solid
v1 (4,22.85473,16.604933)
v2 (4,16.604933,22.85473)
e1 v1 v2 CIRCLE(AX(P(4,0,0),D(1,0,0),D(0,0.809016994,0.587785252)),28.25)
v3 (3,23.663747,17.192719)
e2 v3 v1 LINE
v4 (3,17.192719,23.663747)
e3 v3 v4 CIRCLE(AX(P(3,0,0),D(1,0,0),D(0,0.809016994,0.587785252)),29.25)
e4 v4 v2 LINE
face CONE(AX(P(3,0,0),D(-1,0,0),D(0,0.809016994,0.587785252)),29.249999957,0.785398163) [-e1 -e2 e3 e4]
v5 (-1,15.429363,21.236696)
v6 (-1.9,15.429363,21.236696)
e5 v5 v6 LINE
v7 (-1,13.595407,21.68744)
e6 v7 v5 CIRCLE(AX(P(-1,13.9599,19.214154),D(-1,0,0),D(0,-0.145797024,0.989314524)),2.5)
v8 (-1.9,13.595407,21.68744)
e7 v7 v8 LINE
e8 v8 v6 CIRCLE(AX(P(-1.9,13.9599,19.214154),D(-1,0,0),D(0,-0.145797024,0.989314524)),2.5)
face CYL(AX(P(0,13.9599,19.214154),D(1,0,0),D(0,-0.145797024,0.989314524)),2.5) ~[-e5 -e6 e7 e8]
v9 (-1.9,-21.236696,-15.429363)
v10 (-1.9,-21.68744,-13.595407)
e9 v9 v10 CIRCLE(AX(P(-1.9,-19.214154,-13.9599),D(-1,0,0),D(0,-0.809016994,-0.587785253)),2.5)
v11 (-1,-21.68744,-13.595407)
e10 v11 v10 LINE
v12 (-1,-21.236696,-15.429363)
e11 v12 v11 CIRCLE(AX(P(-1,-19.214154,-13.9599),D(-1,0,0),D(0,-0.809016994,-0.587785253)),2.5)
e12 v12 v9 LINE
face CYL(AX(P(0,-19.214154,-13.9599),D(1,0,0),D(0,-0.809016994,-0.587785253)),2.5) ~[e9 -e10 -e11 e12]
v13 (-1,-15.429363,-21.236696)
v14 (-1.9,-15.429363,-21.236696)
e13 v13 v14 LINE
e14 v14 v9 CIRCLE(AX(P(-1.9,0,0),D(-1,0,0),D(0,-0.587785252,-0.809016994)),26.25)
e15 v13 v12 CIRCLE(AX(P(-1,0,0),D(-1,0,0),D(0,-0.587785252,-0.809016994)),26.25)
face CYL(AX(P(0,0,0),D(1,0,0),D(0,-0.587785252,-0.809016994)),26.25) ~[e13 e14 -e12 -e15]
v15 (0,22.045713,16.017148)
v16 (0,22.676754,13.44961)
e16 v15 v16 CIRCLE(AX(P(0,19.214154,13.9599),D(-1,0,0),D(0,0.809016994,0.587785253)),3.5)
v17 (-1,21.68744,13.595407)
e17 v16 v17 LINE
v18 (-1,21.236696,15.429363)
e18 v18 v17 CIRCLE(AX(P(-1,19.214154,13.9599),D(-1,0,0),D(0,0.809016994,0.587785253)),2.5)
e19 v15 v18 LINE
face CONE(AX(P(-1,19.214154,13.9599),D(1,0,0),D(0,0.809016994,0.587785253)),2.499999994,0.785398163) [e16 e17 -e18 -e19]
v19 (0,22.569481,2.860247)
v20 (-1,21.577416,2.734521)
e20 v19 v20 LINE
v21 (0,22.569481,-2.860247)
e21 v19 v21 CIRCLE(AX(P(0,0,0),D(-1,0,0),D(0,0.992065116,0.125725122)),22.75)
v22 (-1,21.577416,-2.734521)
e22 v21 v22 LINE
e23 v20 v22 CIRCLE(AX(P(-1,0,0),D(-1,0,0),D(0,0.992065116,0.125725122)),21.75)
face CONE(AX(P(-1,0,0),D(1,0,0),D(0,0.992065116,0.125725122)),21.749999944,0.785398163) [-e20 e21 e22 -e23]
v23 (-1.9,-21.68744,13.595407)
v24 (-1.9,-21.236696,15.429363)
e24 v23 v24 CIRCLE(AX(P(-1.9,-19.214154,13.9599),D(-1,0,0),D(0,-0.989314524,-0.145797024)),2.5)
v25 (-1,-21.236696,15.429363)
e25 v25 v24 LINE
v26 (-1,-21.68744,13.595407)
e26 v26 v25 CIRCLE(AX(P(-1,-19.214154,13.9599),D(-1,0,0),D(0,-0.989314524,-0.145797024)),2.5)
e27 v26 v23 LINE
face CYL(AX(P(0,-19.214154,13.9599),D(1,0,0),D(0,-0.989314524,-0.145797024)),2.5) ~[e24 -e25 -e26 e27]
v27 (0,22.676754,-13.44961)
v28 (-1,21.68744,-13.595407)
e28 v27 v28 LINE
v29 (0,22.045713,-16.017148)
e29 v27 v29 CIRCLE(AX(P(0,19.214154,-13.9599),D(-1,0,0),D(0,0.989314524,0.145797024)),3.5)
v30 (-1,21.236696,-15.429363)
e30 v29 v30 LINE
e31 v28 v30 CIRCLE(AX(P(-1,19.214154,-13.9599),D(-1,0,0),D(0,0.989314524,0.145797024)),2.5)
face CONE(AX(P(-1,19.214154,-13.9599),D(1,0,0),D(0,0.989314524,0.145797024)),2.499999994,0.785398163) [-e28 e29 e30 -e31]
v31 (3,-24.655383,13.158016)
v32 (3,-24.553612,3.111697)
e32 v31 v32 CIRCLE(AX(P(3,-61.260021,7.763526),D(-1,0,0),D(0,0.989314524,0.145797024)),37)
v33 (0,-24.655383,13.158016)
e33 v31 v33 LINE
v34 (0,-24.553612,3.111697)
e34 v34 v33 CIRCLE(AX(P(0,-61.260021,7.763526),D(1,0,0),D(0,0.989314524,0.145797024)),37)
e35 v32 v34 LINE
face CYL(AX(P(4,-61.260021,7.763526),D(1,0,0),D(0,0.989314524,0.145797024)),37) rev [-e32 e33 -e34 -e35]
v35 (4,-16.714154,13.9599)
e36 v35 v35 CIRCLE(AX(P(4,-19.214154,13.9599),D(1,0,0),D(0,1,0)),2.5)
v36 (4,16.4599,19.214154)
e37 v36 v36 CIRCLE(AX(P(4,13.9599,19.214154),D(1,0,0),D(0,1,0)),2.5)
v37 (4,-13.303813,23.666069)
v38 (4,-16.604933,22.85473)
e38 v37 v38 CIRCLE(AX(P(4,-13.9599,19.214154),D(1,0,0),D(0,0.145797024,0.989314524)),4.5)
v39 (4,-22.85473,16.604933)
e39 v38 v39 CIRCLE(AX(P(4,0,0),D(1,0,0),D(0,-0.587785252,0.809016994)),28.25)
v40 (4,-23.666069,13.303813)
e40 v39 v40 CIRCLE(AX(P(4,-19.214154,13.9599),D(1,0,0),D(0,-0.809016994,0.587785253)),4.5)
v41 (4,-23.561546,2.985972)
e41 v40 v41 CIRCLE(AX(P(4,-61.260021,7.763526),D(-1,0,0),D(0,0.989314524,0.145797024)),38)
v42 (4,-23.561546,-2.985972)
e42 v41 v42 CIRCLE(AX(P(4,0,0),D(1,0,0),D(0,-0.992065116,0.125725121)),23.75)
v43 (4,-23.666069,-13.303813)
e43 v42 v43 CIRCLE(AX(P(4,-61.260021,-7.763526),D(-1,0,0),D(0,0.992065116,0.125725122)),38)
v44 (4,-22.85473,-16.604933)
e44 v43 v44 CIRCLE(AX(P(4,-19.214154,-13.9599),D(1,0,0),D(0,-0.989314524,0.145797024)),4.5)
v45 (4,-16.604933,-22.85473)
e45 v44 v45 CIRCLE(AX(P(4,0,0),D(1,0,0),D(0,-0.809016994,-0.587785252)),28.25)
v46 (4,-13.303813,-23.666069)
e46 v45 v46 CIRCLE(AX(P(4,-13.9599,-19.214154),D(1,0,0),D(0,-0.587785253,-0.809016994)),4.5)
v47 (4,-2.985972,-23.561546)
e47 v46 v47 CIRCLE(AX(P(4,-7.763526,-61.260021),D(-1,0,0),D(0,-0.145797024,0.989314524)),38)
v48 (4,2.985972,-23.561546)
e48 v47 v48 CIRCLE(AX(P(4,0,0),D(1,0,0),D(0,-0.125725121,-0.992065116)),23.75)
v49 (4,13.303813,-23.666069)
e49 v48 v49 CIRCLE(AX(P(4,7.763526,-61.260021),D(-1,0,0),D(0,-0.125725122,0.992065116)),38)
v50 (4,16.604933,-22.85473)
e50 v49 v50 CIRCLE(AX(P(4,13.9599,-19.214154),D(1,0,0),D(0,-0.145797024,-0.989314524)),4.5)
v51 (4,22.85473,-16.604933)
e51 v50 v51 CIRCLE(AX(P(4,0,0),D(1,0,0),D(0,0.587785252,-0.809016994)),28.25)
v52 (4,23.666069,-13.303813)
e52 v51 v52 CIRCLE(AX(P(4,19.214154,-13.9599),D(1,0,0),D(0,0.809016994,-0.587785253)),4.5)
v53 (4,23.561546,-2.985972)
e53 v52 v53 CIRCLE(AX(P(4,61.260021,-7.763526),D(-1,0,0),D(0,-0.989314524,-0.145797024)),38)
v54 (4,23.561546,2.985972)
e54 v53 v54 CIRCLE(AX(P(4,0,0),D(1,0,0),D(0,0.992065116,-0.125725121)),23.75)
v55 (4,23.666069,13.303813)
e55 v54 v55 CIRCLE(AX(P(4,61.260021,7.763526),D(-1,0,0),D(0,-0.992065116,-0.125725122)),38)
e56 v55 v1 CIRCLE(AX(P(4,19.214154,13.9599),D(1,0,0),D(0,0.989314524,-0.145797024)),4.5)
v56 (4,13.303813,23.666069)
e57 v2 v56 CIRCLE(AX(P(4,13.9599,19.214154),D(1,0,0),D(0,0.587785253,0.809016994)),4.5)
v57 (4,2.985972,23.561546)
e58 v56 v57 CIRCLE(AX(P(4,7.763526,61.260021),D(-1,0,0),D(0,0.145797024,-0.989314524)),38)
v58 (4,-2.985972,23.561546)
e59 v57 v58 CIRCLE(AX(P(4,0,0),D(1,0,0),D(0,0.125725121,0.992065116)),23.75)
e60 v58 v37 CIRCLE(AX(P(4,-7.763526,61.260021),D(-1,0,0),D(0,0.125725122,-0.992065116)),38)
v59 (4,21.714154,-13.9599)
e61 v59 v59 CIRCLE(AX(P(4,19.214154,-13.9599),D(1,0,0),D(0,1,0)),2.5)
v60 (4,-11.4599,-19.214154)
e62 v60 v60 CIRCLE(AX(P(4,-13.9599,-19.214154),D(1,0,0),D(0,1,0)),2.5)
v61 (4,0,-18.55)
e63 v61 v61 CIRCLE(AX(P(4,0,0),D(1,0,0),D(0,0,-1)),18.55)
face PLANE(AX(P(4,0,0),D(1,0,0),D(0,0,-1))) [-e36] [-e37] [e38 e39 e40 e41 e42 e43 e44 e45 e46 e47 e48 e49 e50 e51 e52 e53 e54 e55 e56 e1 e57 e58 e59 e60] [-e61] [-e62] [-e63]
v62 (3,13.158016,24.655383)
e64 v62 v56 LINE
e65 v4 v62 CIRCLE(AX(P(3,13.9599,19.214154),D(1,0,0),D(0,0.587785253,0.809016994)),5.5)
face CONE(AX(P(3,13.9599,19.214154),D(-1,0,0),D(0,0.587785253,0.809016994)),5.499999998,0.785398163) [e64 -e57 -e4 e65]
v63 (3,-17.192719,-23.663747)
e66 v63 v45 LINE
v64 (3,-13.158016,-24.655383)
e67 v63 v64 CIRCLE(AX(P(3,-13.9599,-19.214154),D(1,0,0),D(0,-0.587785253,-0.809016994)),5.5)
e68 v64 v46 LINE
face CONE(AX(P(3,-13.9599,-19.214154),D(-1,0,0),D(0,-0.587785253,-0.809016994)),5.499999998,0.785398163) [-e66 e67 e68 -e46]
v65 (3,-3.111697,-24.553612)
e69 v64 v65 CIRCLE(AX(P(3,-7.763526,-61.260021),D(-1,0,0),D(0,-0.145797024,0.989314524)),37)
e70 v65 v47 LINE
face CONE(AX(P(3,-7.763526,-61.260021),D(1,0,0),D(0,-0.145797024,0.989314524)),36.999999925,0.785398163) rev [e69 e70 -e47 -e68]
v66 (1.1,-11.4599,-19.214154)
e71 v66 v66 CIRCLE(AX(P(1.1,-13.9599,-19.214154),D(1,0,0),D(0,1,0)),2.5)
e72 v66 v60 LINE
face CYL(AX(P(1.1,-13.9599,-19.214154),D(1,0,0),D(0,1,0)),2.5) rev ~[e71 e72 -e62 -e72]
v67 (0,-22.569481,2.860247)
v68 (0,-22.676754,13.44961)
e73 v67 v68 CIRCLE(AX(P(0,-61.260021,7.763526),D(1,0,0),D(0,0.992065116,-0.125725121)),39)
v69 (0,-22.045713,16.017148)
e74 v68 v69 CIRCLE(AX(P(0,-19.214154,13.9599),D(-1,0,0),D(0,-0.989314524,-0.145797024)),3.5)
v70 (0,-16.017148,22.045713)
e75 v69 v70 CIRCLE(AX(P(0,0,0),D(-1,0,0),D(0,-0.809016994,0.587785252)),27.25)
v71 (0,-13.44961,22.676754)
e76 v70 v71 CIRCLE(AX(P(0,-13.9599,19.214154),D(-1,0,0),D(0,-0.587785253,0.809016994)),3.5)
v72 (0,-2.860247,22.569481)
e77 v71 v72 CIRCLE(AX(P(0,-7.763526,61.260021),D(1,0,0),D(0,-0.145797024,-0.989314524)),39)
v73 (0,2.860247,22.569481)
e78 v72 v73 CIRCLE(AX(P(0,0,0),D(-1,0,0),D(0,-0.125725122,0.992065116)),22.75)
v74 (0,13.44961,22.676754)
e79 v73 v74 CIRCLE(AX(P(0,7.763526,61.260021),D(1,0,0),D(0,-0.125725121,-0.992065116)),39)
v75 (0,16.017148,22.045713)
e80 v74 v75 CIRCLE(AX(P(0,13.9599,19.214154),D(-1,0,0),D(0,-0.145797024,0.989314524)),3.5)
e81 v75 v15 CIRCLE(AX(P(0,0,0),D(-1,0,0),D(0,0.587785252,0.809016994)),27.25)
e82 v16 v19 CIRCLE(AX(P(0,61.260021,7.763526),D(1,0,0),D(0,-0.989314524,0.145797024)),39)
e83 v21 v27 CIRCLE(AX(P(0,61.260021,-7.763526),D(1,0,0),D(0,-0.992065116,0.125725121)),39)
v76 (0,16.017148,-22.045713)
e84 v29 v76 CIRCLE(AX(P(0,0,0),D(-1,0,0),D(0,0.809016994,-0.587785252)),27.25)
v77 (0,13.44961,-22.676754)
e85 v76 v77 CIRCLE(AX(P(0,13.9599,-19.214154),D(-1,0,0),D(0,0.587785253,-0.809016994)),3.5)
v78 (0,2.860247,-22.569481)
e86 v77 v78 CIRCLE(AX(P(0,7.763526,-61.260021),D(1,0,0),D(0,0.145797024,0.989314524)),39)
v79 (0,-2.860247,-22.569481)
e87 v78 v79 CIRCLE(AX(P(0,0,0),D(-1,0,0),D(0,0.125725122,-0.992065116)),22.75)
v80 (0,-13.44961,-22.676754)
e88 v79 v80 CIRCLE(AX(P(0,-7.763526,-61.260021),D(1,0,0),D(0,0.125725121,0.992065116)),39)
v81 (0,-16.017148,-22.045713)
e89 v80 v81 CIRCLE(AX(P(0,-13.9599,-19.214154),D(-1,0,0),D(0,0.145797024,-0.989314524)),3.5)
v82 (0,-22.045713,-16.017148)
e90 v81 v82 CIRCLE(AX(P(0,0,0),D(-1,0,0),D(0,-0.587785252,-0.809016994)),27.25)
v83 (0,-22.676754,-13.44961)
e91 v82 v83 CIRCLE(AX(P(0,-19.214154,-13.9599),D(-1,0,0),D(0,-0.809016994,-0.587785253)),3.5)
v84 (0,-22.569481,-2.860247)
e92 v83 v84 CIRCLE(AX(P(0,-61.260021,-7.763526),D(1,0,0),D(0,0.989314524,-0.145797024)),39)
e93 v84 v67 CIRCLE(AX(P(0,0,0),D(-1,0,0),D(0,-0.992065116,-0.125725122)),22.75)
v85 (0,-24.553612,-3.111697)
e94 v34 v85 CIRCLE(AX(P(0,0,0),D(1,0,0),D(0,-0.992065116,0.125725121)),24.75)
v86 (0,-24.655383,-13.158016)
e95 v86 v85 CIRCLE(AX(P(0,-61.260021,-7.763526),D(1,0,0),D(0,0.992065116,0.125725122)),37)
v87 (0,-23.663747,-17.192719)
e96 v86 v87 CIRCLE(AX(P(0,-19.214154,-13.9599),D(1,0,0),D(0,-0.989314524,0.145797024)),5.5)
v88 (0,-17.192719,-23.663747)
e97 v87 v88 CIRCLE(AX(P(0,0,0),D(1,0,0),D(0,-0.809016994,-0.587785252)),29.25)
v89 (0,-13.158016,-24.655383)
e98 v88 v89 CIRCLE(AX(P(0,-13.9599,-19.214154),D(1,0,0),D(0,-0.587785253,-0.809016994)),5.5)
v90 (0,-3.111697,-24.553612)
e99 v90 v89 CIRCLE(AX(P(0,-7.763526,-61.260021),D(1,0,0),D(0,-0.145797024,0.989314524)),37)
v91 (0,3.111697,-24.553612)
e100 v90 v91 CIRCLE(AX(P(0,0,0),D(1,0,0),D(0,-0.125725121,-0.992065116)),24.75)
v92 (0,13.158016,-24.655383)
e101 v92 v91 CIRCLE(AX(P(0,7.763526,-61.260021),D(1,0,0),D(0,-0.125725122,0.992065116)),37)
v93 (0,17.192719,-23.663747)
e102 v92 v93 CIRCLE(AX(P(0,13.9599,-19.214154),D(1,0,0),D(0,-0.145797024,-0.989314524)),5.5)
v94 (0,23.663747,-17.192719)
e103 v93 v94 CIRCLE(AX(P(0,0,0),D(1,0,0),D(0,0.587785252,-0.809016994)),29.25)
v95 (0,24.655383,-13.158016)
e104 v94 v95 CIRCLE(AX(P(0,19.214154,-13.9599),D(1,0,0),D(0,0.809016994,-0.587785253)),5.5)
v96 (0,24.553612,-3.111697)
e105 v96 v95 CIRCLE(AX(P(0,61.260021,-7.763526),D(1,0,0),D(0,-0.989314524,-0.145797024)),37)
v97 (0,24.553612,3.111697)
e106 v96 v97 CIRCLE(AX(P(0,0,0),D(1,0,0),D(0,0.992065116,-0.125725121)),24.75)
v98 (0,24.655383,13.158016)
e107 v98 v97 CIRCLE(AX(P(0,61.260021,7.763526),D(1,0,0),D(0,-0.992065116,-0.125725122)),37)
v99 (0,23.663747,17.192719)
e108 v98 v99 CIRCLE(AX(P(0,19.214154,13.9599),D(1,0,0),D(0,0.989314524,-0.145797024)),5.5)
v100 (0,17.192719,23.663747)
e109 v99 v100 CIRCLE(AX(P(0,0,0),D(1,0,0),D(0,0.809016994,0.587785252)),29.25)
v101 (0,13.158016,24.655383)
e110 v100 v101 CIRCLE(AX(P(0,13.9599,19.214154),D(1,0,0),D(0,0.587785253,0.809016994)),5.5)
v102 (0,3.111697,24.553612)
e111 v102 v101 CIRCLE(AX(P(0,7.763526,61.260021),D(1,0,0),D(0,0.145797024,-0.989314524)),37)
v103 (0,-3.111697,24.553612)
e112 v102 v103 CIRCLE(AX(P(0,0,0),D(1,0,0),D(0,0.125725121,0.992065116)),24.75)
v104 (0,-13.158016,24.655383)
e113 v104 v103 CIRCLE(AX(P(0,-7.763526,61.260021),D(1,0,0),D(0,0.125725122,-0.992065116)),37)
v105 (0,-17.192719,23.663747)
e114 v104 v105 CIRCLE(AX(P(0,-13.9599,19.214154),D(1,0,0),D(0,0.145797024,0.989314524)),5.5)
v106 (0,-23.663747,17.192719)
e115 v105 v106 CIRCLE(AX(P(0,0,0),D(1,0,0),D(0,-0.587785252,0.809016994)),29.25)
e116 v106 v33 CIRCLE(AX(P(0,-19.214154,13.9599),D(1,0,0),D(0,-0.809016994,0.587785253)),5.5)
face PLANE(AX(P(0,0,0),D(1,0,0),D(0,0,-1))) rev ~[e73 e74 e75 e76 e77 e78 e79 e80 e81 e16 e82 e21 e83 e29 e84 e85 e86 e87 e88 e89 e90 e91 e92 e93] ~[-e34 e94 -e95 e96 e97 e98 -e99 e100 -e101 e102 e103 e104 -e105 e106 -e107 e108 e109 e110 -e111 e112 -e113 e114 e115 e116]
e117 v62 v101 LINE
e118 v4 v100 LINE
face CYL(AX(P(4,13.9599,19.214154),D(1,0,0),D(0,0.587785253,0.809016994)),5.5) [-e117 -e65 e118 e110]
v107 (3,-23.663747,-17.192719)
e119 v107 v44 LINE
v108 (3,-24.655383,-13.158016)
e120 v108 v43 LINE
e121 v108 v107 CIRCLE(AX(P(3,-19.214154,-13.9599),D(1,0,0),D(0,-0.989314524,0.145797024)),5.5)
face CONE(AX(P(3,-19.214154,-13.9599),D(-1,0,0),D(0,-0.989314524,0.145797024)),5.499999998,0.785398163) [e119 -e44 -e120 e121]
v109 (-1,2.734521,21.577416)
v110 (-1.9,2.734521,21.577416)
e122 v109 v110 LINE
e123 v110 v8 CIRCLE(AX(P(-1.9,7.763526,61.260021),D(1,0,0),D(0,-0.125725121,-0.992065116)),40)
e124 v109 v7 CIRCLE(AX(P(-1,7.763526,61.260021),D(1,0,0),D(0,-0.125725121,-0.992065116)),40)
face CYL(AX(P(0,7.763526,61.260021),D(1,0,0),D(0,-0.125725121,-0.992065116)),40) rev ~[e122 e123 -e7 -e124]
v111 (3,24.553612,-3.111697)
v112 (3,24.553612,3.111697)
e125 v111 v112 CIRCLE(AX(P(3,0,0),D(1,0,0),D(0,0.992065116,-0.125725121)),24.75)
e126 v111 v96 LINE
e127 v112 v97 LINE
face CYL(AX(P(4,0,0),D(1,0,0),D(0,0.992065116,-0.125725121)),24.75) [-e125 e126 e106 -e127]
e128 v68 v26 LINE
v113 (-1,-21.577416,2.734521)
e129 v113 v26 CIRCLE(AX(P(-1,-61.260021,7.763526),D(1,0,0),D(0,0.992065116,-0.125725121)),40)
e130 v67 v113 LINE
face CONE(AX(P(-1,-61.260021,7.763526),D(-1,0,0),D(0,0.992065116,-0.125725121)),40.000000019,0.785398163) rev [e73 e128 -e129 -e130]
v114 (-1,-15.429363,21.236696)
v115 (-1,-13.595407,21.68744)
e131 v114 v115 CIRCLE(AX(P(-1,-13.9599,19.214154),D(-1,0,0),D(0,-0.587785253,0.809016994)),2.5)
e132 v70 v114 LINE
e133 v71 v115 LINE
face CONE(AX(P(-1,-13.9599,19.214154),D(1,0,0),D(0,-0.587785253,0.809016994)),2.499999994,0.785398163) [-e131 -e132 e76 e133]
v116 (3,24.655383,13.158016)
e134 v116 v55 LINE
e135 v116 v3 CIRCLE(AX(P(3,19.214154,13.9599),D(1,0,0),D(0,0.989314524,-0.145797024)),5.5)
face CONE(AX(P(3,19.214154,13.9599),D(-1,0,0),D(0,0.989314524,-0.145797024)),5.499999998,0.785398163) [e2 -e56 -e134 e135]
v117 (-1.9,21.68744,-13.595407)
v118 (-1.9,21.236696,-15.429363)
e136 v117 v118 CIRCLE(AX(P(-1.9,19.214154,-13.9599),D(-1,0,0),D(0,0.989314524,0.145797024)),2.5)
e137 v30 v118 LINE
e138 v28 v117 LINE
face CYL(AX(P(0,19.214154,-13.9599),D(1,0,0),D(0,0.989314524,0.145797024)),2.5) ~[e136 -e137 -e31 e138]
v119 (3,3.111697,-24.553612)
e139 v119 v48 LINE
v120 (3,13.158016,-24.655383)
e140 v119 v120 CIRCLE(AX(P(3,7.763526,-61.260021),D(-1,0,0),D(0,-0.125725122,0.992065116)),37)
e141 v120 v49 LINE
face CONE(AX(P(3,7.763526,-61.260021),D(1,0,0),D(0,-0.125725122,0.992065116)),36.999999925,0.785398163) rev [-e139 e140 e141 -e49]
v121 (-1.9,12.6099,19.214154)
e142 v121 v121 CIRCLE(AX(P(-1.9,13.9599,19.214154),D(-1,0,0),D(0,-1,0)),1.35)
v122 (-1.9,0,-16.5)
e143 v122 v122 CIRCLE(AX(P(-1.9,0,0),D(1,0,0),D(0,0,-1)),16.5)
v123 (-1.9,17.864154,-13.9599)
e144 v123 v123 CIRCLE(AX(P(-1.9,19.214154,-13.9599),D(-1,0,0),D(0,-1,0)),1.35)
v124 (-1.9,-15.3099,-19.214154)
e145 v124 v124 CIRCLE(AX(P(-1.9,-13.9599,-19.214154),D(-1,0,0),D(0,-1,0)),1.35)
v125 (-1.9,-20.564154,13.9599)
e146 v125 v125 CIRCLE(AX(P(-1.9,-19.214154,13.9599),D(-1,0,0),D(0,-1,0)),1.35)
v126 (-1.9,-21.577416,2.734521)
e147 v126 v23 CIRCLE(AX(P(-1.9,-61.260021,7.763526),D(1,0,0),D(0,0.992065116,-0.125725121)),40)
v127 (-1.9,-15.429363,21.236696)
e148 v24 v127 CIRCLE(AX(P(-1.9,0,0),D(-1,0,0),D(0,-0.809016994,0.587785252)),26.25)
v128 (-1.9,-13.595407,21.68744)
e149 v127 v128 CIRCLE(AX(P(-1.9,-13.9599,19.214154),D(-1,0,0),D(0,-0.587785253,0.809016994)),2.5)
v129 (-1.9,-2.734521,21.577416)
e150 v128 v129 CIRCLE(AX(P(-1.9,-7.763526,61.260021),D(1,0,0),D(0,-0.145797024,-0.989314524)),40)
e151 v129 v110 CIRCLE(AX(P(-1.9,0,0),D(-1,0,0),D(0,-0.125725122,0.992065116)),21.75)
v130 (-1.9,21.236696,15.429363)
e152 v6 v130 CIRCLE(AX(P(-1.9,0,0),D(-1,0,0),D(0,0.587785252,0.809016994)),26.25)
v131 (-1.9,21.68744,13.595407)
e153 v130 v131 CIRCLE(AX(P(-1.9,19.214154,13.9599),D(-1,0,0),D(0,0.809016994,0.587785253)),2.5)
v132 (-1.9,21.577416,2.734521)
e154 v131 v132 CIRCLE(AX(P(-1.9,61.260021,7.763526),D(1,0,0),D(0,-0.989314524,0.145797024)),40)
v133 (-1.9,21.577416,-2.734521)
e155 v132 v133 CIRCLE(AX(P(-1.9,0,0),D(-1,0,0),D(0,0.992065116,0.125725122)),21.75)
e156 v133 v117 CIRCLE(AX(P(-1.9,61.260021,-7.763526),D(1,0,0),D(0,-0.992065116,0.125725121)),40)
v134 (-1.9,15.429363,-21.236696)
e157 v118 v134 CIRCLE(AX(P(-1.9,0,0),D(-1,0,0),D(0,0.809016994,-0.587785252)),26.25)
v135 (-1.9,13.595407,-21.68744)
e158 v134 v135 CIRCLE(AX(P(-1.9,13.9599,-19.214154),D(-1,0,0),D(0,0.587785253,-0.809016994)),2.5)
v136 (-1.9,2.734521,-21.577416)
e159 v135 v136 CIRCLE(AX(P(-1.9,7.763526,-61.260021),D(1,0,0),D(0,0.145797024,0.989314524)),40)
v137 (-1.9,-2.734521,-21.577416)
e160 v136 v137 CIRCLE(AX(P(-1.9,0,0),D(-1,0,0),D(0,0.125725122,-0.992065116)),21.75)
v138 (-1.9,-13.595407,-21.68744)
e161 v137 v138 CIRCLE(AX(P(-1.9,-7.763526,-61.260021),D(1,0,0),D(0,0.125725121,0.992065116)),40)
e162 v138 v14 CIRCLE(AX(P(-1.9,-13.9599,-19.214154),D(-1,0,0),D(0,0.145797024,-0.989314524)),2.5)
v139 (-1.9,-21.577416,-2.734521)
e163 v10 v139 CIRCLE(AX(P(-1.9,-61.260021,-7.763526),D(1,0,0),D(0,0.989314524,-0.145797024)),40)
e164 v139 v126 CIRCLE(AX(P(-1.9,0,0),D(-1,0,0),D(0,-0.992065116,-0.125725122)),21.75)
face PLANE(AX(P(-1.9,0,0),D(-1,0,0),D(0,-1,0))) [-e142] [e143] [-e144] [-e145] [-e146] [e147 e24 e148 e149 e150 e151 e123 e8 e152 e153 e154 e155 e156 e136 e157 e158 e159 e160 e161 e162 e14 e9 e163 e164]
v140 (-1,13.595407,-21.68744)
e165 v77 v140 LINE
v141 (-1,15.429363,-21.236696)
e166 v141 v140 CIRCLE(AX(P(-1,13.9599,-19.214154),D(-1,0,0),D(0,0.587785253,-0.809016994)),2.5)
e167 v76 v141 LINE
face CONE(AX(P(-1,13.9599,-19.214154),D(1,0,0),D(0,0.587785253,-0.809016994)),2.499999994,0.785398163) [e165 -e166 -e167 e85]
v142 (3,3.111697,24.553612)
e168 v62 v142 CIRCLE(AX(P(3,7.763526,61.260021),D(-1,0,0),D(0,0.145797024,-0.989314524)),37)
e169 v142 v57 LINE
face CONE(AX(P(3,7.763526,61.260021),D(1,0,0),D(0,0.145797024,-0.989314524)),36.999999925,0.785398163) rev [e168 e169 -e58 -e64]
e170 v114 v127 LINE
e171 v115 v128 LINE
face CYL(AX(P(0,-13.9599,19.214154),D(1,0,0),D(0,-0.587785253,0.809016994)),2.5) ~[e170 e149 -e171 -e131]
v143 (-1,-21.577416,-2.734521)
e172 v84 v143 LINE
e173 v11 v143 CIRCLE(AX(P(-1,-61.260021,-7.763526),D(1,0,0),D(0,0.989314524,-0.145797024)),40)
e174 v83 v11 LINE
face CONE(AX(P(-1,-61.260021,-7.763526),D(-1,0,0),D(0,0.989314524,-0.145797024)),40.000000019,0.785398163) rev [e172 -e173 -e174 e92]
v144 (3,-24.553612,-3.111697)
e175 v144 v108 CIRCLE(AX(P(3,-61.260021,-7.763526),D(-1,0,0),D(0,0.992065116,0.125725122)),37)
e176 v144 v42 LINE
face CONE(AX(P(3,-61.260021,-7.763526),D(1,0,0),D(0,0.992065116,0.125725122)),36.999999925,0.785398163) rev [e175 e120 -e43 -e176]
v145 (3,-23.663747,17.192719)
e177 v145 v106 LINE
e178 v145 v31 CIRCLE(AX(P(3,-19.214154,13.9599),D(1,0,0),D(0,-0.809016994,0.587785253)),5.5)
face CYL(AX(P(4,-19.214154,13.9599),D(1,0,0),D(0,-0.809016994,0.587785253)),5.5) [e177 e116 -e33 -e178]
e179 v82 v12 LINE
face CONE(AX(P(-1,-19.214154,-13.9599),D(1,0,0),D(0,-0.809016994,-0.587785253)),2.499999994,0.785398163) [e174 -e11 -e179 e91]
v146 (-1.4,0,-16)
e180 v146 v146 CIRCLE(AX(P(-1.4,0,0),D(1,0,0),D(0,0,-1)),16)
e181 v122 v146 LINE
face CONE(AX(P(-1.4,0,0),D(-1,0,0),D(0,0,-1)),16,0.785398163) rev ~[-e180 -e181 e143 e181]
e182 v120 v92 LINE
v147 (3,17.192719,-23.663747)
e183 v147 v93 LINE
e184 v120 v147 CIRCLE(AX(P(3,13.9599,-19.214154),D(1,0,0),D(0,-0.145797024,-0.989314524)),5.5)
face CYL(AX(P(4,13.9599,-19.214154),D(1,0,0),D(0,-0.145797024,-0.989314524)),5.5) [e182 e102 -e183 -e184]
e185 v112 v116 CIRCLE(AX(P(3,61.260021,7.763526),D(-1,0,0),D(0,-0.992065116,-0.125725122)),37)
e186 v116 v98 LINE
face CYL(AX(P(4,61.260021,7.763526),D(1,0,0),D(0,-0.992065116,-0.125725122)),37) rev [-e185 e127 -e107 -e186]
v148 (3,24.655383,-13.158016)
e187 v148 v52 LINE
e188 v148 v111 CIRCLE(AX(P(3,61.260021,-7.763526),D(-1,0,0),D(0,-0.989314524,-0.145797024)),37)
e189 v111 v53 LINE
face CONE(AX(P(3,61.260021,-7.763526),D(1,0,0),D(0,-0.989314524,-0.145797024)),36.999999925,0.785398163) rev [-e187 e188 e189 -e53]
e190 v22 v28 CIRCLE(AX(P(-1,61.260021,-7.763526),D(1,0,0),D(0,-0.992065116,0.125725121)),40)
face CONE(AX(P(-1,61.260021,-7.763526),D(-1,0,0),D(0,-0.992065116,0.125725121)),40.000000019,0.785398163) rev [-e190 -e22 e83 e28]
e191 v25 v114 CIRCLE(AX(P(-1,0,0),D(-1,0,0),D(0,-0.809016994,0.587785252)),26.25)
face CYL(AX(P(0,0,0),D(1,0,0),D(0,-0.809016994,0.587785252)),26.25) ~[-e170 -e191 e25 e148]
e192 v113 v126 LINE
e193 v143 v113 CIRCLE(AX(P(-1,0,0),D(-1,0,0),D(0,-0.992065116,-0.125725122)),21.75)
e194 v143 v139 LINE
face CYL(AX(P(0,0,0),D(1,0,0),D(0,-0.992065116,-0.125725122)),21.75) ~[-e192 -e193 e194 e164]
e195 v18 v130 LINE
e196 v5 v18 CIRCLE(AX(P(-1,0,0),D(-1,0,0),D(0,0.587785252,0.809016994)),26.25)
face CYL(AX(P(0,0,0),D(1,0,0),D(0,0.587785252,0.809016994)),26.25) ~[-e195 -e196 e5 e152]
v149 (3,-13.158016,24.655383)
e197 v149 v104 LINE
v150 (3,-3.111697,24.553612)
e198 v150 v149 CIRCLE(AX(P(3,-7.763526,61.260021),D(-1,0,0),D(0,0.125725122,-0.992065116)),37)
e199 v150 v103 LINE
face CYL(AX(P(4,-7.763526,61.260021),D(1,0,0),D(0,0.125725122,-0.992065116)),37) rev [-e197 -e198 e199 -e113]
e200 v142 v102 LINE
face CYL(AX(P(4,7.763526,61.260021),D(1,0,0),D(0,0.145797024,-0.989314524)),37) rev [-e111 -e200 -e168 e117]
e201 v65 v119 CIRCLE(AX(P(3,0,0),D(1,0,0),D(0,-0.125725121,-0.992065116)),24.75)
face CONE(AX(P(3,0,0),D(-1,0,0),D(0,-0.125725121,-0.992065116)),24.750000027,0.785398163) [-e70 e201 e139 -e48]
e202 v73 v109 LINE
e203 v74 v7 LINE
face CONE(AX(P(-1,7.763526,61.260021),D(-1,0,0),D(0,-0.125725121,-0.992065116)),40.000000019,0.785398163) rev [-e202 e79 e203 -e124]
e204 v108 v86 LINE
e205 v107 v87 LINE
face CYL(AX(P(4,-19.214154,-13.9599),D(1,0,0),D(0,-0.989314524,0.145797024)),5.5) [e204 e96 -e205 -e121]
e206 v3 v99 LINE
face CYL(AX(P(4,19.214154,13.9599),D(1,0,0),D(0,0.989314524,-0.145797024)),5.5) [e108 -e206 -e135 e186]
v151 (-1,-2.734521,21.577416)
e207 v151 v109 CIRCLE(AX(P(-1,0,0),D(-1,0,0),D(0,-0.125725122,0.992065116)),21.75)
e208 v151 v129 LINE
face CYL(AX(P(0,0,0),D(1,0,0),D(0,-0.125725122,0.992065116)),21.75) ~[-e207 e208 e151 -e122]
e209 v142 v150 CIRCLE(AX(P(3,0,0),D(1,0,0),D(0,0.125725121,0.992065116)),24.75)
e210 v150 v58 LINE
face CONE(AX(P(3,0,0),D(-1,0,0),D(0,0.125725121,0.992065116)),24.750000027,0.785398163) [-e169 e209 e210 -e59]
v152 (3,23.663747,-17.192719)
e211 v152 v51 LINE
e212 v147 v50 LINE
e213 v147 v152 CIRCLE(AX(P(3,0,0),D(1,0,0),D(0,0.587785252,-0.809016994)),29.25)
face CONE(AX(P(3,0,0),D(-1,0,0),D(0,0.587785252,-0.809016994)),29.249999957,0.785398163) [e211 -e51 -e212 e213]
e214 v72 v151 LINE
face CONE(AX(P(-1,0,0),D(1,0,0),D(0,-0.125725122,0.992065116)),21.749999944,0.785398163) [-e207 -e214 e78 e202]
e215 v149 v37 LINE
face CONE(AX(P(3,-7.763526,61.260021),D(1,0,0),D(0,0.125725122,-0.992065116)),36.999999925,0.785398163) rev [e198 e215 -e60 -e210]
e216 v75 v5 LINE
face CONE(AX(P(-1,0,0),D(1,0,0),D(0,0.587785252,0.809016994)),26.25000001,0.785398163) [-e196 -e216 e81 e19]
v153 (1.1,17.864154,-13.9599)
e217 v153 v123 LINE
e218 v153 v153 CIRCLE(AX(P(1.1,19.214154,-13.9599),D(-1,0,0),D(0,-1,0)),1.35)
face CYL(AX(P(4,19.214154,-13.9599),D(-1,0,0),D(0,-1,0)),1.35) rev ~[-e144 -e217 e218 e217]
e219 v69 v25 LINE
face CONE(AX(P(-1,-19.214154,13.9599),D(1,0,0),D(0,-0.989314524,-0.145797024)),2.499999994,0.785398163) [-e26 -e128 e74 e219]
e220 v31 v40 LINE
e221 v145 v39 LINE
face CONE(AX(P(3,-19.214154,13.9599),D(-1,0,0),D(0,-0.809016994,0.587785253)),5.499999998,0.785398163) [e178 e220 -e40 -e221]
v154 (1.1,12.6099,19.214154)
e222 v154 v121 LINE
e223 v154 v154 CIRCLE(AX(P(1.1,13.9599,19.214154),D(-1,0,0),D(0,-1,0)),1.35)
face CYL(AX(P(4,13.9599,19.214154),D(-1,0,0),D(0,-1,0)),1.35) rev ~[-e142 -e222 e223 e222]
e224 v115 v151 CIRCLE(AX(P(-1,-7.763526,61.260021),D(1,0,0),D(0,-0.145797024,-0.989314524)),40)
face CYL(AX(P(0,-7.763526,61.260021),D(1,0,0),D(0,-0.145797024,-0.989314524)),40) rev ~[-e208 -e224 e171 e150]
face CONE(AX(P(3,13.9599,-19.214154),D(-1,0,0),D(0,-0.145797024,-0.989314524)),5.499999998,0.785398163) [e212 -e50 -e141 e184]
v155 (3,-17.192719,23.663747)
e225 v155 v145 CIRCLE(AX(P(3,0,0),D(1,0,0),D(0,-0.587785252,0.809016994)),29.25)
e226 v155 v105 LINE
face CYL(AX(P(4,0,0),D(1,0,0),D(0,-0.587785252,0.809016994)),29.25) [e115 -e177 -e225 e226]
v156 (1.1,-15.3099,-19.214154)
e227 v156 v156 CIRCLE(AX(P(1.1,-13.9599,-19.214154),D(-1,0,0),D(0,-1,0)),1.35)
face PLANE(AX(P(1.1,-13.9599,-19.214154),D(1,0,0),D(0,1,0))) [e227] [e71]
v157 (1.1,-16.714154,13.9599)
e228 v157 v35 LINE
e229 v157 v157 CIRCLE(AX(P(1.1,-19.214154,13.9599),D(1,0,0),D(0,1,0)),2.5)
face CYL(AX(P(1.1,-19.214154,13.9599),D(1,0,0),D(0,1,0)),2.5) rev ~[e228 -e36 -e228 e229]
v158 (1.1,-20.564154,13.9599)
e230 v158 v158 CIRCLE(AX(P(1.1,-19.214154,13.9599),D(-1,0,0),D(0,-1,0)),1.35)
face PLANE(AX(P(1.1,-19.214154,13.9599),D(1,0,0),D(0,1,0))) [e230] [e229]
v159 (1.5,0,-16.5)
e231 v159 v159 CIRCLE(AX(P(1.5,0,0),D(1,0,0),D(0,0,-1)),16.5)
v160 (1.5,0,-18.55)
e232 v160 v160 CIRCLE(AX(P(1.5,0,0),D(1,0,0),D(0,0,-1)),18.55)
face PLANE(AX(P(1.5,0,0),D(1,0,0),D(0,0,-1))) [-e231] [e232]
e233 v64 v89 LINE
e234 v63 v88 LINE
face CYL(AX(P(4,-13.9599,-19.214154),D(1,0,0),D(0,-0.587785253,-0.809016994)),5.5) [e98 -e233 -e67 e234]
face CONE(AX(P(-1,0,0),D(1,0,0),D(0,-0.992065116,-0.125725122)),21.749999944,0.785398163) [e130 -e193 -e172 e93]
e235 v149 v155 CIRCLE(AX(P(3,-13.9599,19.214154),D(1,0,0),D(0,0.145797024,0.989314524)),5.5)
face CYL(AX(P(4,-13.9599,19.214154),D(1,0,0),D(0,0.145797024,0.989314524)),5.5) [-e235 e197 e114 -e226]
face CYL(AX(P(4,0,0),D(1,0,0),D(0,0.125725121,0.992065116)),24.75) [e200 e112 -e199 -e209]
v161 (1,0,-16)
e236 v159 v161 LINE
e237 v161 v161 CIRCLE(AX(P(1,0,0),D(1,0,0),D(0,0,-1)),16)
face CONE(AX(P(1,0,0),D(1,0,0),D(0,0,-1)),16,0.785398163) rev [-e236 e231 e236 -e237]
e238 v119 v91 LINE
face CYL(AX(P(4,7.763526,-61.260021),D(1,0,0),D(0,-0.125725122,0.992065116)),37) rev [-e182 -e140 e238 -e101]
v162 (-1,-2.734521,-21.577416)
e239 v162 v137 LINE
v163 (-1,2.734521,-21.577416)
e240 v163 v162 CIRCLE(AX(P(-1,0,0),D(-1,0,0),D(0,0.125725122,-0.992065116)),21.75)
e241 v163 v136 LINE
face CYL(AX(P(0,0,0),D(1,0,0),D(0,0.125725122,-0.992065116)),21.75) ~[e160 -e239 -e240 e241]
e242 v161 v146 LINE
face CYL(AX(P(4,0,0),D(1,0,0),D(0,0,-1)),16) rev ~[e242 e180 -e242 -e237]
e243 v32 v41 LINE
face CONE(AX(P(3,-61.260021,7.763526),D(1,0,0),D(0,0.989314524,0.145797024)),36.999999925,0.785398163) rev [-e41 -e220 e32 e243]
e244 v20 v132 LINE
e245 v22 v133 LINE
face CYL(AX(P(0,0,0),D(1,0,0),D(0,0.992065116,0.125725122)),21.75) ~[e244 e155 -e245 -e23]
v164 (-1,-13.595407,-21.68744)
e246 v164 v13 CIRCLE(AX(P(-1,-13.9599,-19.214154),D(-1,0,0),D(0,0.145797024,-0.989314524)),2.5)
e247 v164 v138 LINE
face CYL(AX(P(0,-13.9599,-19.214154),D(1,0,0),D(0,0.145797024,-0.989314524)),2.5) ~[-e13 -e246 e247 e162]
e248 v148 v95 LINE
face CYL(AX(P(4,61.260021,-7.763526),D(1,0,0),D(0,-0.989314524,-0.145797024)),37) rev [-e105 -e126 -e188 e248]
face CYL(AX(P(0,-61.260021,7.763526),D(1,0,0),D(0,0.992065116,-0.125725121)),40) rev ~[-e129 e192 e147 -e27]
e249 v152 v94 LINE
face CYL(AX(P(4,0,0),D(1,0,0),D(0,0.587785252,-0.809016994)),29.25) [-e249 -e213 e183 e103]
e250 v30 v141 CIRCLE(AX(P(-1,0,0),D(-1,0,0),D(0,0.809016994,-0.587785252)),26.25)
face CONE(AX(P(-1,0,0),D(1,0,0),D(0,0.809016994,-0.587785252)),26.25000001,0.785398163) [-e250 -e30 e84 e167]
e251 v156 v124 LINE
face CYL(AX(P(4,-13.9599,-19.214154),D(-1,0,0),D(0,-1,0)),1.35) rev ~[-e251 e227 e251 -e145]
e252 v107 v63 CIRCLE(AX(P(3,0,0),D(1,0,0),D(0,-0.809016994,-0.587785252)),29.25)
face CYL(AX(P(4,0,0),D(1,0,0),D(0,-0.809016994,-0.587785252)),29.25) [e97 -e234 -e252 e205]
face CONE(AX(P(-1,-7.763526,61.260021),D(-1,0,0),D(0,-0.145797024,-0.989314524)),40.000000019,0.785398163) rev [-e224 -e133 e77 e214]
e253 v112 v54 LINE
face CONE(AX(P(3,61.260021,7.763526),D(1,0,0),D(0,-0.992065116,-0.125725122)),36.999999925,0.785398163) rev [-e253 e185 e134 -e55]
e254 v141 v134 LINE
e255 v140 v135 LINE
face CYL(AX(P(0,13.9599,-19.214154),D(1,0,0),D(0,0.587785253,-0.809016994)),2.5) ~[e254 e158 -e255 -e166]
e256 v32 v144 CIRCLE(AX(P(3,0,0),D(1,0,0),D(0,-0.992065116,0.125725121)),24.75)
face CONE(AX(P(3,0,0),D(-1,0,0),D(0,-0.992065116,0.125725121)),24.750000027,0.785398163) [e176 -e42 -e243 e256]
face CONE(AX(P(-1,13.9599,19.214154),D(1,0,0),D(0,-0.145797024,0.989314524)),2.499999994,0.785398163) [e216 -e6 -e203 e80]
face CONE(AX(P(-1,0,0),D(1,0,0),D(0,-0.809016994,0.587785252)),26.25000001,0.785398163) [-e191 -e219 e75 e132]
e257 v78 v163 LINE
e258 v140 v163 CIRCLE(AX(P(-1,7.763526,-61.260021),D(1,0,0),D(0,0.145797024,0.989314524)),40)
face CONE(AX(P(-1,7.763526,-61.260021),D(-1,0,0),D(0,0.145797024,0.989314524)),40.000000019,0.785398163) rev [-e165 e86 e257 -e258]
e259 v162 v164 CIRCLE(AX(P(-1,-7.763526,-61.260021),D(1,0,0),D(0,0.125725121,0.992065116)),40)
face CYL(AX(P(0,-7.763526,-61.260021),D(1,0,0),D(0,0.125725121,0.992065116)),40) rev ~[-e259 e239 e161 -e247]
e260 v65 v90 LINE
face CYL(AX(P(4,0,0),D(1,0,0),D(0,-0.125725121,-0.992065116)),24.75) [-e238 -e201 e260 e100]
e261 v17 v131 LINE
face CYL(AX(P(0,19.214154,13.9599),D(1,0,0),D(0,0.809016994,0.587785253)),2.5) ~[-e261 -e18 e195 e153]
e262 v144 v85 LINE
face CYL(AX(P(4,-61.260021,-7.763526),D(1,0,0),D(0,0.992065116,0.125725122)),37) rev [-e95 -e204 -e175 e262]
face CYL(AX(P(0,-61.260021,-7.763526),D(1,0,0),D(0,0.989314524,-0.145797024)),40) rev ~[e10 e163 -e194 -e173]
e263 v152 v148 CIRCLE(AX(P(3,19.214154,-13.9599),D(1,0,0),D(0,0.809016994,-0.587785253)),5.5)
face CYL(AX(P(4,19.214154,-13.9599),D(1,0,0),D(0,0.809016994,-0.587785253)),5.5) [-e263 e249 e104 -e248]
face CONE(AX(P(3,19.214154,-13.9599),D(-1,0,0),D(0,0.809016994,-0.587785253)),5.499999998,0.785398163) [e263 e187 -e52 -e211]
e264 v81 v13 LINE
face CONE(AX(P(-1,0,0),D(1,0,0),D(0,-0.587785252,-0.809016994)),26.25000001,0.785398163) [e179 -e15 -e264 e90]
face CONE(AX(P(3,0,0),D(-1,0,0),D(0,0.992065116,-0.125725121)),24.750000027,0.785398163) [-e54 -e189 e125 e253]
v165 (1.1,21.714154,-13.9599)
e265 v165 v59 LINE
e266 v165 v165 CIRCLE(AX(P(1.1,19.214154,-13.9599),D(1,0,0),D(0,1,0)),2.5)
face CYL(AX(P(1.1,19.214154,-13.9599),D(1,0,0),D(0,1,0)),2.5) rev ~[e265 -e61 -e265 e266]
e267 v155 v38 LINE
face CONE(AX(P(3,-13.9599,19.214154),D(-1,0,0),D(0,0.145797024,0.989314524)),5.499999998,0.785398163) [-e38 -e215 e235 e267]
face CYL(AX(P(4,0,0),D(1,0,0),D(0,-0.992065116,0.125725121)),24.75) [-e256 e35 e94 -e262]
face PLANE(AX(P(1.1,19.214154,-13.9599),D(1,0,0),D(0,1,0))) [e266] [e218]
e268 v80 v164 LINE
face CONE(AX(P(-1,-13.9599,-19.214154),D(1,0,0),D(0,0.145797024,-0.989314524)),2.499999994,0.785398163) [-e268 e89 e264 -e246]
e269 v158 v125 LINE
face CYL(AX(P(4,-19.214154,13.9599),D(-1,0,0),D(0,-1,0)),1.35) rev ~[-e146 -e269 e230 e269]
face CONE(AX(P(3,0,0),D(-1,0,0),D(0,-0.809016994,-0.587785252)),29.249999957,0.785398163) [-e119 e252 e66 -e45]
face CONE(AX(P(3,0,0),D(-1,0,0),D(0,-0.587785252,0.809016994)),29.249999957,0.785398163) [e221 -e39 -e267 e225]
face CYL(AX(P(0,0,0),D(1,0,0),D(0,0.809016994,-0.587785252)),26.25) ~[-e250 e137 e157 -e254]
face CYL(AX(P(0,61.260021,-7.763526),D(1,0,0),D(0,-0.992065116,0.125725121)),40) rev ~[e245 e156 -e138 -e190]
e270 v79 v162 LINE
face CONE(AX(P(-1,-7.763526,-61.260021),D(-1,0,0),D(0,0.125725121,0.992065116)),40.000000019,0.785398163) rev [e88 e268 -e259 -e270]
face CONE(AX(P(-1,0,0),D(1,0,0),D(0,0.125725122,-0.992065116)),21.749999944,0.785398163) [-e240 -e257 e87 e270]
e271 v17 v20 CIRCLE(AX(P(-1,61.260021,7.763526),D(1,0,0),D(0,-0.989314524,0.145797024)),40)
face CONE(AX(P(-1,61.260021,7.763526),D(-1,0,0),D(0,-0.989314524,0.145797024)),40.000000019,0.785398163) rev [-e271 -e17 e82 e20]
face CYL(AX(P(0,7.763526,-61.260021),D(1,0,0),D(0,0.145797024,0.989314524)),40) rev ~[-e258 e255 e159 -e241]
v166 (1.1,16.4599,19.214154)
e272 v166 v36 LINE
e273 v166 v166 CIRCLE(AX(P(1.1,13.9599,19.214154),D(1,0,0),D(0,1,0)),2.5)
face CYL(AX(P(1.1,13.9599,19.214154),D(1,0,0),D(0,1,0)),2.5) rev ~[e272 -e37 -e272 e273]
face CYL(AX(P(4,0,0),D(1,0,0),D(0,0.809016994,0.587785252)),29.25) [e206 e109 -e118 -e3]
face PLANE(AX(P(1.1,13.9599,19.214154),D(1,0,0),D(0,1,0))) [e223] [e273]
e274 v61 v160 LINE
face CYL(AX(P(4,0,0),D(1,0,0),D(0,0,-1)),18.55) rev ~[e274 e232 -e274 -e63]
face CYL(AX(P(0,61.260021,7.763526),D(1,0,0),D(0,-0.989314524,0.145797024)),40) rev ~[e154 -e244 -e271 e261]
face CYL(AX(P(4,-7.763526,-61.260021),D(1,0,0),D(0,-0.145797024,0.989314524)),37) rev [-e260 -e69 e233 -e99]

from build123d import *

# Parameters (mm, degrees)
SKETCH_1_R                     = 30
EXTRUDE_1_DEPTH                = 4
EXTRUDE_2_DEPTH                = 1.9
CHAMFER_1_SIZE                 = 1
SKETCH_5_R                     = 16
CUT_EXTRUDE_2_DEPTH            = 43.83468221
HOLE_WIZARD_M2_5_1_D           = 2.7
HOLE_WIZARD_M2_5_1_CBORE_D     = 5
HOLE_WIZARD_M2_5_1_CBORE_DEPTH = 2.9
SKETCH_8_OUTSIDE_W             = 79.012
SKETCH_8_OUTSIDE_H             = 79.012
CUT_EXTRUDE_3_DEPTH            = 43.83468221
CHAMFER_2_SIZE                 = 1
SKETCH_9_R                     = 18.55
CUT_EXTRUDE_4_DEPTH            = 2.5
CHAMFER_3_SIZE                 = 0.5


with BuildPart() as part:
    # 草图1 → 凸台-拉伸1 (new body)
    with BuildSketch(Plane.YZ):
        with Locations(Location((0, 0, 0), (0, 0, 270))):
            Circle(SKETCH_1_R)
    extrude(amount=EXTRUDE_1_DEPTH)

    # 草图2 → 凸台-拉伸2 (add)
    with BuildSketch(Plane(origin=(0, 0, 0), x_dir=(0, -1, 0), z_dir=(-1, 0, 0))):
        with BuildLine():
            ThreePointArc((-15.429362873, -21.236696102), (-14.556584324, -21.641903091), (-13.595407183, -21.687439927))
            ThreePointArc((-13.595407183, -21.687439927), (-8.168716079, -21.262073185), (-2.734521388, -21.577416267))
            ThreePointArc((-2.734521388, -21.577416267), (0, -21.75), (2.734521388, -21.577416267))
            ThreePointArc((2.734521388, -21.577416267), (8.168716079, -21.262073185), (13.595407183, -21.687439927))
            ThreePointArc((13.595407183, -21.687439927), (14.556584324, -21.641903091), (15.429362873, -21.236696102))
            ThreePointArc((15.429362873, -21.236696102), (18.561553006, -18.561553006), (21.236696102, -15.429362873))
            ThreePointArc((21.236696102, -15.429362873), (21.641903091, -14.556584324), (21.687439927, -13.595407183))
            ThreePointArc((21.687439927, -13.595407183), (21.262073185, -8.168716079), (21.577416267, -2.734521388))
            ThreePointArc((21.577416267, -2.734521388), (21.75, 0), (21.577416267, 2.734521388))
            ThreePointArc((21.577416267, 2.734521388), (21.262073185, 8.168716079), (21.687439927, 13.595407183))
            ThreePointArc((21.687439927, 13.595407183), (21.641903091, 14.556584324), (21.236696102, 15.429362873))
            ThreePointArc((21.236696102, 15.429362873), (18.561553006, 18.561553006), (15.429362873, 21.236696102))
            ThreePointArc((15.429362873, 21.236696102), (14.556584324, 21.641903091), (13.595407183, 21.687439927))
            ThreePointArc((13.595407183, 21.687439927), (8.168716079, 21.262073185), (2.734521388, 21.577416267))
            ThreePointArc((2.734521388, 21.577416267), (0, 21.75), (-2.734521388, 21.577416267))
            ThreePointArc((-2.734521388, 21.577416267), (-8.168716079, 21.262073185), (-13.595407183, 21.687439927))
            ThreePointArc((-13.595407183, 21.687439927), (-14.556584324, 21.641903091), (-15.429362873, 21.236696102))
            ThreePointArc((-15.429362873, 21.236696102), (-18.561553006, 18.561553006), (-21.236696102, 15.429362873))
            ThreePointArc((-21.236696102, 15.429362873), (-21.641903091, 14.556584324), (-21.687439927, 13.595407183))
            ThreePointArc((-21.687439927, 13.595407183), (-21.262073185, 8.168716079), (-21.577416267, 2.734521388))
            ThreePointArc((-21.577416267, 2.734521388), (-21.75, 0), (-21.577416267, -2.734521388))
            ThreePointArc((-21.577416267, -2.734521388), (-21.262073185, -8.168716079), (-21.687439927, -13.595407183))
            ThreePointArc((-21.687439927, -13.595407183), (-21.641903091, -14.556584324), (-21.236696102, -15.429362873))
            ThreePointArc((-21.236696102, -15.429362873), (-18.561553006, -18.561553006), (-15.429362873, -21.236696102))
        make_face()
    extrude(amount=EXTRUDE_2_DEPTH)

    # 倒角1
    chamfer_1_edges = [part.edges().sort_by_distance(p)[0] for p in [
        (0, 21.641903091, -14.556584324),
        (0, 18.561553006, -18.561553006),
        (0, 14.556584324, -21.641903091),
        (0, 8.168716079, -21.262073185),
        (0, 0, -21.75),
        (0, -8.168716079, -21.262073185),
        (0, -14.556584324, -21.641903091),
        (0, -18.561553006, -18.561553006),
        (0, -21.641903091, -14.556584324),
        (0, -21.262073185, -8.168716079),
        (0, -21.75, 0),
        (0, -21.262073185, 8.168716079),
        (0, -21.641903091, 14.556584324),
        (0, -18.561553006, 18.561553006),
        (0, -14.556584324, 21.641903091),
        (0, -8.168716079, 21.262073185),
        (0, 0, 21.75),
        (0, 8.168716079, 21.262073185),
        (0, 14.556584324, 21.641903091),
        (0, 18.561553006, 18.561553006),
        (0, 21.641903091, 14.556584324),
        (0, 21.262073185, 8.168716079),
        (0, 21.75, 0),
        (0, 21.262073185, -8.168716079),
    ]]
    chamfer(chamfer_1_edges, length=CHAMFER_1_SIZE)

    # 草图5 → 切除-拉伸2 (cut, through all)
    with BuildSketch(Plane.YZ.offset(4)):
        with Locations(Location((0, 0, 0), (0, 0, 270))):
            Circle(SKETCH_5_R)
    extrude(amount=-CUT_EXTRUDE_2_DEPTH, mode=Mode.SUBTRACT)

    # M2.5 六角圆柱头螺钉的柱形沉头孔1 (through all)
    with Locations(Plane.YZ.offset(4)):
        with Locations((-19.214153616, 13.959899742), (13.959899742, 19.214153616), (19.214153616, -13.959899742), (-13.959899742, -19.214153616)):
            CounterBoreHole(HOLE_WIZARD_M2_5_1_D / 2, HOLE_WIZARD_M2_5_1_CBORE_D / 2, HOLE_WIZARD_M2_5_1_CBORE_DEPTH)

    # 草图8 outside → 切除-拉伸3 (cut, through all)
    with BuildSketch(Plane(origin=(4, 0, 0), x_dir=(0, 0, -1), z_dir=(1, 0, 0))):
        Rectangle(SKETCH_8_OUTSIDE_W, SKETCH_8_OUTSIDE_H)
        with BuildLine():
            ThreePointArc((-3.111696751, 24.553611615), (-8.138326841, 24.261919263), (-13.158016112, 24.6553835))
            ThreePointArc((-13.158016112, 24.6553835), (-15.272605822, 24.55520246), (-17.19271863, 23.663747085))
            ThreePointArc((-17.19271863, 23.663747085), (-20.68287335, 20.68287335), (-23.663747085, 17.19271863))
            ThreePointArc((-23.663747085, 17.19271863), (-24.55520246, 15.272605822), (-24.6553835, 13.158016112))
            ThreePointArc((-24.6553835, 13.158016112), (-24.261919263, 8.138326841), (-24.553611615, 3.111696751))
            ThreePointArc((-24.553611615, 3.111696751), (-24.75, 0), (-24.553611615, -3.111696751))
            ThreePointArc((-24.553611615, -3.111696751), (-24.261919263, -8.138326841), (-24.6553835, -13.158016112))
            ThreePointArc((-24.6553835, -13.158016112), (-24.55520246, -15.272605822), (-23.663747085, -17.19271863))
            ThreePointArc((-23.663747085, -17.19271863), (-20.68287335, -20.68287335), (-17.19271863, -23.663747085))
            ThreePointArc((-17.19271863, -23.663747085), (-15.272605822, -24.55520246), (-13.158016112, -24.6553835))
            ThreePointArc((-13.158016112, -24.6553835), (-8.138326841, -24.261919263), (-3.111696751, -24.553611615))
            ThreePointArc((-3.111696751, -24.553611615), (0, -24.75), (3.111696751, -24.553611615))
            ThreePointArc((3.111696751, -24.553611615), (8.138326841, -24.261919263), (13.158016112, -24.6553835))
            ThreePointArc((13.158016112, -24.6553835), (15.272605822, -24.55520246), (17.19271863, -23.663747085))
            ThreePointArc((17.19271863, -23.663747085), (20.68287335, -20.68287335), (23.663747085, -17.19271863))
            ThreePointArc((23.663747085, -17.19271863), (24.55520246, -15.272605822), (24.6553835, -13.158016112))
            ThreePointArc((24.6553835, -13.158016112), (24.261919263, -8.138326841), (24.553611615, -3.111696751))
            ThreePointArc((24.553611615, -3.111696751), (24.75, 0), (24.553611615, 3.111696751))
            ThreePointArc((24.553611615, 3.111696751), (24.261919263, 8.138326841), (24.6553835, 13.158016112))
            ThreePointArc((24.6553835, 13.158016112), (24.55520246, 15.272605822), (23.663747085, 17.19271863))
            ThreePointArc((23.663747085, 17.19271863), (20.68287335, 20.68287335), (17.19271863, 23.663747085))
            ThreePointArc((17.19271863, 23.663747085), (15.272605822, 24.55520246), (13.158016112, 24.6553835))
            ThreePointArc((13.158016112, 24.6553835), (8.138326841, 24.261919263), (3.111696751, 24.553611615))
            ThreePointArc((3.111696751, 24.553611615), (0, 24.75), (-3.111696751, 24.553611615))
        make_face(mode=Mode.SUBTRACT)
    extrude(amount=-CUT_EXTRUDE_3_DEPTH, mode=Mode.SUBTRACT)

    # 倒角2
    chamfer_2_edges = [part.edges().sort_by_distance(p)[0] for p in [
        (4, 24.75, 0),
        (4, 24.261919263, -8.138326841),
        (4, 24.55520246, -15.272605822),
        (4, 20.68287335, -20.68287335),
        (4, 15.272605822, -24.55520246),
        (4, 8.138326841, -24.261919263),
        (4, 0, -24.75),
        (4, -8.138326841, -24.261919263),
        (4, -15.272605822, -24.55520246),
        (4, -20.68287335, -20.68287335),
        (4, -24.55520246, -15.272605822),
        (4, -24.261919263, -8.138326841),
        (4, -24.75, 0),
        (4, -24.261919263, 8.138326841),
        (4, -24.55520246, 15.272605822),
        (4, -20.68287335, 20.68287335),
        (4, -15.272605822, 24.55520246),
        (4, -8.138326841, 24.261919263),
        (4, 0, 24.75),
        (4, 8.138326841, 24.261919263),
        (4, 15.272605822, 24.55520246),
        (4, 20.68287335, 20.68287335),
        (4, 24.55520246, 15.272605822),
        (4, 24.261919263, 8.138326841),
    ]]
    chamfer(chamfer_2_edges, length=CHAMFER_2_SIZE)

    # 草图9 → 切除-拉伸4 (cut)
    with BuildSketch(Plane(origin=(4, 0, 0), x_dir=(0, 0, -1), z_dir=(1, 0, 0))):
        Circle(SKETCH_9_R)
    extrude(amount=-CUT_EXTRUDE_4_DEPTH, mode=Mode.SUBTRACT)

    # 倒角3
    chamfer_3_edges = [part.edges().sort_by_distance(p)[0] for p in [
        (-1.9, 0, 16),
        (1.5, 0, 16),
    ]]
    chamfer(chamfer_3_edges, length=CHAMFER_3_SIZE)


solid = part.part
